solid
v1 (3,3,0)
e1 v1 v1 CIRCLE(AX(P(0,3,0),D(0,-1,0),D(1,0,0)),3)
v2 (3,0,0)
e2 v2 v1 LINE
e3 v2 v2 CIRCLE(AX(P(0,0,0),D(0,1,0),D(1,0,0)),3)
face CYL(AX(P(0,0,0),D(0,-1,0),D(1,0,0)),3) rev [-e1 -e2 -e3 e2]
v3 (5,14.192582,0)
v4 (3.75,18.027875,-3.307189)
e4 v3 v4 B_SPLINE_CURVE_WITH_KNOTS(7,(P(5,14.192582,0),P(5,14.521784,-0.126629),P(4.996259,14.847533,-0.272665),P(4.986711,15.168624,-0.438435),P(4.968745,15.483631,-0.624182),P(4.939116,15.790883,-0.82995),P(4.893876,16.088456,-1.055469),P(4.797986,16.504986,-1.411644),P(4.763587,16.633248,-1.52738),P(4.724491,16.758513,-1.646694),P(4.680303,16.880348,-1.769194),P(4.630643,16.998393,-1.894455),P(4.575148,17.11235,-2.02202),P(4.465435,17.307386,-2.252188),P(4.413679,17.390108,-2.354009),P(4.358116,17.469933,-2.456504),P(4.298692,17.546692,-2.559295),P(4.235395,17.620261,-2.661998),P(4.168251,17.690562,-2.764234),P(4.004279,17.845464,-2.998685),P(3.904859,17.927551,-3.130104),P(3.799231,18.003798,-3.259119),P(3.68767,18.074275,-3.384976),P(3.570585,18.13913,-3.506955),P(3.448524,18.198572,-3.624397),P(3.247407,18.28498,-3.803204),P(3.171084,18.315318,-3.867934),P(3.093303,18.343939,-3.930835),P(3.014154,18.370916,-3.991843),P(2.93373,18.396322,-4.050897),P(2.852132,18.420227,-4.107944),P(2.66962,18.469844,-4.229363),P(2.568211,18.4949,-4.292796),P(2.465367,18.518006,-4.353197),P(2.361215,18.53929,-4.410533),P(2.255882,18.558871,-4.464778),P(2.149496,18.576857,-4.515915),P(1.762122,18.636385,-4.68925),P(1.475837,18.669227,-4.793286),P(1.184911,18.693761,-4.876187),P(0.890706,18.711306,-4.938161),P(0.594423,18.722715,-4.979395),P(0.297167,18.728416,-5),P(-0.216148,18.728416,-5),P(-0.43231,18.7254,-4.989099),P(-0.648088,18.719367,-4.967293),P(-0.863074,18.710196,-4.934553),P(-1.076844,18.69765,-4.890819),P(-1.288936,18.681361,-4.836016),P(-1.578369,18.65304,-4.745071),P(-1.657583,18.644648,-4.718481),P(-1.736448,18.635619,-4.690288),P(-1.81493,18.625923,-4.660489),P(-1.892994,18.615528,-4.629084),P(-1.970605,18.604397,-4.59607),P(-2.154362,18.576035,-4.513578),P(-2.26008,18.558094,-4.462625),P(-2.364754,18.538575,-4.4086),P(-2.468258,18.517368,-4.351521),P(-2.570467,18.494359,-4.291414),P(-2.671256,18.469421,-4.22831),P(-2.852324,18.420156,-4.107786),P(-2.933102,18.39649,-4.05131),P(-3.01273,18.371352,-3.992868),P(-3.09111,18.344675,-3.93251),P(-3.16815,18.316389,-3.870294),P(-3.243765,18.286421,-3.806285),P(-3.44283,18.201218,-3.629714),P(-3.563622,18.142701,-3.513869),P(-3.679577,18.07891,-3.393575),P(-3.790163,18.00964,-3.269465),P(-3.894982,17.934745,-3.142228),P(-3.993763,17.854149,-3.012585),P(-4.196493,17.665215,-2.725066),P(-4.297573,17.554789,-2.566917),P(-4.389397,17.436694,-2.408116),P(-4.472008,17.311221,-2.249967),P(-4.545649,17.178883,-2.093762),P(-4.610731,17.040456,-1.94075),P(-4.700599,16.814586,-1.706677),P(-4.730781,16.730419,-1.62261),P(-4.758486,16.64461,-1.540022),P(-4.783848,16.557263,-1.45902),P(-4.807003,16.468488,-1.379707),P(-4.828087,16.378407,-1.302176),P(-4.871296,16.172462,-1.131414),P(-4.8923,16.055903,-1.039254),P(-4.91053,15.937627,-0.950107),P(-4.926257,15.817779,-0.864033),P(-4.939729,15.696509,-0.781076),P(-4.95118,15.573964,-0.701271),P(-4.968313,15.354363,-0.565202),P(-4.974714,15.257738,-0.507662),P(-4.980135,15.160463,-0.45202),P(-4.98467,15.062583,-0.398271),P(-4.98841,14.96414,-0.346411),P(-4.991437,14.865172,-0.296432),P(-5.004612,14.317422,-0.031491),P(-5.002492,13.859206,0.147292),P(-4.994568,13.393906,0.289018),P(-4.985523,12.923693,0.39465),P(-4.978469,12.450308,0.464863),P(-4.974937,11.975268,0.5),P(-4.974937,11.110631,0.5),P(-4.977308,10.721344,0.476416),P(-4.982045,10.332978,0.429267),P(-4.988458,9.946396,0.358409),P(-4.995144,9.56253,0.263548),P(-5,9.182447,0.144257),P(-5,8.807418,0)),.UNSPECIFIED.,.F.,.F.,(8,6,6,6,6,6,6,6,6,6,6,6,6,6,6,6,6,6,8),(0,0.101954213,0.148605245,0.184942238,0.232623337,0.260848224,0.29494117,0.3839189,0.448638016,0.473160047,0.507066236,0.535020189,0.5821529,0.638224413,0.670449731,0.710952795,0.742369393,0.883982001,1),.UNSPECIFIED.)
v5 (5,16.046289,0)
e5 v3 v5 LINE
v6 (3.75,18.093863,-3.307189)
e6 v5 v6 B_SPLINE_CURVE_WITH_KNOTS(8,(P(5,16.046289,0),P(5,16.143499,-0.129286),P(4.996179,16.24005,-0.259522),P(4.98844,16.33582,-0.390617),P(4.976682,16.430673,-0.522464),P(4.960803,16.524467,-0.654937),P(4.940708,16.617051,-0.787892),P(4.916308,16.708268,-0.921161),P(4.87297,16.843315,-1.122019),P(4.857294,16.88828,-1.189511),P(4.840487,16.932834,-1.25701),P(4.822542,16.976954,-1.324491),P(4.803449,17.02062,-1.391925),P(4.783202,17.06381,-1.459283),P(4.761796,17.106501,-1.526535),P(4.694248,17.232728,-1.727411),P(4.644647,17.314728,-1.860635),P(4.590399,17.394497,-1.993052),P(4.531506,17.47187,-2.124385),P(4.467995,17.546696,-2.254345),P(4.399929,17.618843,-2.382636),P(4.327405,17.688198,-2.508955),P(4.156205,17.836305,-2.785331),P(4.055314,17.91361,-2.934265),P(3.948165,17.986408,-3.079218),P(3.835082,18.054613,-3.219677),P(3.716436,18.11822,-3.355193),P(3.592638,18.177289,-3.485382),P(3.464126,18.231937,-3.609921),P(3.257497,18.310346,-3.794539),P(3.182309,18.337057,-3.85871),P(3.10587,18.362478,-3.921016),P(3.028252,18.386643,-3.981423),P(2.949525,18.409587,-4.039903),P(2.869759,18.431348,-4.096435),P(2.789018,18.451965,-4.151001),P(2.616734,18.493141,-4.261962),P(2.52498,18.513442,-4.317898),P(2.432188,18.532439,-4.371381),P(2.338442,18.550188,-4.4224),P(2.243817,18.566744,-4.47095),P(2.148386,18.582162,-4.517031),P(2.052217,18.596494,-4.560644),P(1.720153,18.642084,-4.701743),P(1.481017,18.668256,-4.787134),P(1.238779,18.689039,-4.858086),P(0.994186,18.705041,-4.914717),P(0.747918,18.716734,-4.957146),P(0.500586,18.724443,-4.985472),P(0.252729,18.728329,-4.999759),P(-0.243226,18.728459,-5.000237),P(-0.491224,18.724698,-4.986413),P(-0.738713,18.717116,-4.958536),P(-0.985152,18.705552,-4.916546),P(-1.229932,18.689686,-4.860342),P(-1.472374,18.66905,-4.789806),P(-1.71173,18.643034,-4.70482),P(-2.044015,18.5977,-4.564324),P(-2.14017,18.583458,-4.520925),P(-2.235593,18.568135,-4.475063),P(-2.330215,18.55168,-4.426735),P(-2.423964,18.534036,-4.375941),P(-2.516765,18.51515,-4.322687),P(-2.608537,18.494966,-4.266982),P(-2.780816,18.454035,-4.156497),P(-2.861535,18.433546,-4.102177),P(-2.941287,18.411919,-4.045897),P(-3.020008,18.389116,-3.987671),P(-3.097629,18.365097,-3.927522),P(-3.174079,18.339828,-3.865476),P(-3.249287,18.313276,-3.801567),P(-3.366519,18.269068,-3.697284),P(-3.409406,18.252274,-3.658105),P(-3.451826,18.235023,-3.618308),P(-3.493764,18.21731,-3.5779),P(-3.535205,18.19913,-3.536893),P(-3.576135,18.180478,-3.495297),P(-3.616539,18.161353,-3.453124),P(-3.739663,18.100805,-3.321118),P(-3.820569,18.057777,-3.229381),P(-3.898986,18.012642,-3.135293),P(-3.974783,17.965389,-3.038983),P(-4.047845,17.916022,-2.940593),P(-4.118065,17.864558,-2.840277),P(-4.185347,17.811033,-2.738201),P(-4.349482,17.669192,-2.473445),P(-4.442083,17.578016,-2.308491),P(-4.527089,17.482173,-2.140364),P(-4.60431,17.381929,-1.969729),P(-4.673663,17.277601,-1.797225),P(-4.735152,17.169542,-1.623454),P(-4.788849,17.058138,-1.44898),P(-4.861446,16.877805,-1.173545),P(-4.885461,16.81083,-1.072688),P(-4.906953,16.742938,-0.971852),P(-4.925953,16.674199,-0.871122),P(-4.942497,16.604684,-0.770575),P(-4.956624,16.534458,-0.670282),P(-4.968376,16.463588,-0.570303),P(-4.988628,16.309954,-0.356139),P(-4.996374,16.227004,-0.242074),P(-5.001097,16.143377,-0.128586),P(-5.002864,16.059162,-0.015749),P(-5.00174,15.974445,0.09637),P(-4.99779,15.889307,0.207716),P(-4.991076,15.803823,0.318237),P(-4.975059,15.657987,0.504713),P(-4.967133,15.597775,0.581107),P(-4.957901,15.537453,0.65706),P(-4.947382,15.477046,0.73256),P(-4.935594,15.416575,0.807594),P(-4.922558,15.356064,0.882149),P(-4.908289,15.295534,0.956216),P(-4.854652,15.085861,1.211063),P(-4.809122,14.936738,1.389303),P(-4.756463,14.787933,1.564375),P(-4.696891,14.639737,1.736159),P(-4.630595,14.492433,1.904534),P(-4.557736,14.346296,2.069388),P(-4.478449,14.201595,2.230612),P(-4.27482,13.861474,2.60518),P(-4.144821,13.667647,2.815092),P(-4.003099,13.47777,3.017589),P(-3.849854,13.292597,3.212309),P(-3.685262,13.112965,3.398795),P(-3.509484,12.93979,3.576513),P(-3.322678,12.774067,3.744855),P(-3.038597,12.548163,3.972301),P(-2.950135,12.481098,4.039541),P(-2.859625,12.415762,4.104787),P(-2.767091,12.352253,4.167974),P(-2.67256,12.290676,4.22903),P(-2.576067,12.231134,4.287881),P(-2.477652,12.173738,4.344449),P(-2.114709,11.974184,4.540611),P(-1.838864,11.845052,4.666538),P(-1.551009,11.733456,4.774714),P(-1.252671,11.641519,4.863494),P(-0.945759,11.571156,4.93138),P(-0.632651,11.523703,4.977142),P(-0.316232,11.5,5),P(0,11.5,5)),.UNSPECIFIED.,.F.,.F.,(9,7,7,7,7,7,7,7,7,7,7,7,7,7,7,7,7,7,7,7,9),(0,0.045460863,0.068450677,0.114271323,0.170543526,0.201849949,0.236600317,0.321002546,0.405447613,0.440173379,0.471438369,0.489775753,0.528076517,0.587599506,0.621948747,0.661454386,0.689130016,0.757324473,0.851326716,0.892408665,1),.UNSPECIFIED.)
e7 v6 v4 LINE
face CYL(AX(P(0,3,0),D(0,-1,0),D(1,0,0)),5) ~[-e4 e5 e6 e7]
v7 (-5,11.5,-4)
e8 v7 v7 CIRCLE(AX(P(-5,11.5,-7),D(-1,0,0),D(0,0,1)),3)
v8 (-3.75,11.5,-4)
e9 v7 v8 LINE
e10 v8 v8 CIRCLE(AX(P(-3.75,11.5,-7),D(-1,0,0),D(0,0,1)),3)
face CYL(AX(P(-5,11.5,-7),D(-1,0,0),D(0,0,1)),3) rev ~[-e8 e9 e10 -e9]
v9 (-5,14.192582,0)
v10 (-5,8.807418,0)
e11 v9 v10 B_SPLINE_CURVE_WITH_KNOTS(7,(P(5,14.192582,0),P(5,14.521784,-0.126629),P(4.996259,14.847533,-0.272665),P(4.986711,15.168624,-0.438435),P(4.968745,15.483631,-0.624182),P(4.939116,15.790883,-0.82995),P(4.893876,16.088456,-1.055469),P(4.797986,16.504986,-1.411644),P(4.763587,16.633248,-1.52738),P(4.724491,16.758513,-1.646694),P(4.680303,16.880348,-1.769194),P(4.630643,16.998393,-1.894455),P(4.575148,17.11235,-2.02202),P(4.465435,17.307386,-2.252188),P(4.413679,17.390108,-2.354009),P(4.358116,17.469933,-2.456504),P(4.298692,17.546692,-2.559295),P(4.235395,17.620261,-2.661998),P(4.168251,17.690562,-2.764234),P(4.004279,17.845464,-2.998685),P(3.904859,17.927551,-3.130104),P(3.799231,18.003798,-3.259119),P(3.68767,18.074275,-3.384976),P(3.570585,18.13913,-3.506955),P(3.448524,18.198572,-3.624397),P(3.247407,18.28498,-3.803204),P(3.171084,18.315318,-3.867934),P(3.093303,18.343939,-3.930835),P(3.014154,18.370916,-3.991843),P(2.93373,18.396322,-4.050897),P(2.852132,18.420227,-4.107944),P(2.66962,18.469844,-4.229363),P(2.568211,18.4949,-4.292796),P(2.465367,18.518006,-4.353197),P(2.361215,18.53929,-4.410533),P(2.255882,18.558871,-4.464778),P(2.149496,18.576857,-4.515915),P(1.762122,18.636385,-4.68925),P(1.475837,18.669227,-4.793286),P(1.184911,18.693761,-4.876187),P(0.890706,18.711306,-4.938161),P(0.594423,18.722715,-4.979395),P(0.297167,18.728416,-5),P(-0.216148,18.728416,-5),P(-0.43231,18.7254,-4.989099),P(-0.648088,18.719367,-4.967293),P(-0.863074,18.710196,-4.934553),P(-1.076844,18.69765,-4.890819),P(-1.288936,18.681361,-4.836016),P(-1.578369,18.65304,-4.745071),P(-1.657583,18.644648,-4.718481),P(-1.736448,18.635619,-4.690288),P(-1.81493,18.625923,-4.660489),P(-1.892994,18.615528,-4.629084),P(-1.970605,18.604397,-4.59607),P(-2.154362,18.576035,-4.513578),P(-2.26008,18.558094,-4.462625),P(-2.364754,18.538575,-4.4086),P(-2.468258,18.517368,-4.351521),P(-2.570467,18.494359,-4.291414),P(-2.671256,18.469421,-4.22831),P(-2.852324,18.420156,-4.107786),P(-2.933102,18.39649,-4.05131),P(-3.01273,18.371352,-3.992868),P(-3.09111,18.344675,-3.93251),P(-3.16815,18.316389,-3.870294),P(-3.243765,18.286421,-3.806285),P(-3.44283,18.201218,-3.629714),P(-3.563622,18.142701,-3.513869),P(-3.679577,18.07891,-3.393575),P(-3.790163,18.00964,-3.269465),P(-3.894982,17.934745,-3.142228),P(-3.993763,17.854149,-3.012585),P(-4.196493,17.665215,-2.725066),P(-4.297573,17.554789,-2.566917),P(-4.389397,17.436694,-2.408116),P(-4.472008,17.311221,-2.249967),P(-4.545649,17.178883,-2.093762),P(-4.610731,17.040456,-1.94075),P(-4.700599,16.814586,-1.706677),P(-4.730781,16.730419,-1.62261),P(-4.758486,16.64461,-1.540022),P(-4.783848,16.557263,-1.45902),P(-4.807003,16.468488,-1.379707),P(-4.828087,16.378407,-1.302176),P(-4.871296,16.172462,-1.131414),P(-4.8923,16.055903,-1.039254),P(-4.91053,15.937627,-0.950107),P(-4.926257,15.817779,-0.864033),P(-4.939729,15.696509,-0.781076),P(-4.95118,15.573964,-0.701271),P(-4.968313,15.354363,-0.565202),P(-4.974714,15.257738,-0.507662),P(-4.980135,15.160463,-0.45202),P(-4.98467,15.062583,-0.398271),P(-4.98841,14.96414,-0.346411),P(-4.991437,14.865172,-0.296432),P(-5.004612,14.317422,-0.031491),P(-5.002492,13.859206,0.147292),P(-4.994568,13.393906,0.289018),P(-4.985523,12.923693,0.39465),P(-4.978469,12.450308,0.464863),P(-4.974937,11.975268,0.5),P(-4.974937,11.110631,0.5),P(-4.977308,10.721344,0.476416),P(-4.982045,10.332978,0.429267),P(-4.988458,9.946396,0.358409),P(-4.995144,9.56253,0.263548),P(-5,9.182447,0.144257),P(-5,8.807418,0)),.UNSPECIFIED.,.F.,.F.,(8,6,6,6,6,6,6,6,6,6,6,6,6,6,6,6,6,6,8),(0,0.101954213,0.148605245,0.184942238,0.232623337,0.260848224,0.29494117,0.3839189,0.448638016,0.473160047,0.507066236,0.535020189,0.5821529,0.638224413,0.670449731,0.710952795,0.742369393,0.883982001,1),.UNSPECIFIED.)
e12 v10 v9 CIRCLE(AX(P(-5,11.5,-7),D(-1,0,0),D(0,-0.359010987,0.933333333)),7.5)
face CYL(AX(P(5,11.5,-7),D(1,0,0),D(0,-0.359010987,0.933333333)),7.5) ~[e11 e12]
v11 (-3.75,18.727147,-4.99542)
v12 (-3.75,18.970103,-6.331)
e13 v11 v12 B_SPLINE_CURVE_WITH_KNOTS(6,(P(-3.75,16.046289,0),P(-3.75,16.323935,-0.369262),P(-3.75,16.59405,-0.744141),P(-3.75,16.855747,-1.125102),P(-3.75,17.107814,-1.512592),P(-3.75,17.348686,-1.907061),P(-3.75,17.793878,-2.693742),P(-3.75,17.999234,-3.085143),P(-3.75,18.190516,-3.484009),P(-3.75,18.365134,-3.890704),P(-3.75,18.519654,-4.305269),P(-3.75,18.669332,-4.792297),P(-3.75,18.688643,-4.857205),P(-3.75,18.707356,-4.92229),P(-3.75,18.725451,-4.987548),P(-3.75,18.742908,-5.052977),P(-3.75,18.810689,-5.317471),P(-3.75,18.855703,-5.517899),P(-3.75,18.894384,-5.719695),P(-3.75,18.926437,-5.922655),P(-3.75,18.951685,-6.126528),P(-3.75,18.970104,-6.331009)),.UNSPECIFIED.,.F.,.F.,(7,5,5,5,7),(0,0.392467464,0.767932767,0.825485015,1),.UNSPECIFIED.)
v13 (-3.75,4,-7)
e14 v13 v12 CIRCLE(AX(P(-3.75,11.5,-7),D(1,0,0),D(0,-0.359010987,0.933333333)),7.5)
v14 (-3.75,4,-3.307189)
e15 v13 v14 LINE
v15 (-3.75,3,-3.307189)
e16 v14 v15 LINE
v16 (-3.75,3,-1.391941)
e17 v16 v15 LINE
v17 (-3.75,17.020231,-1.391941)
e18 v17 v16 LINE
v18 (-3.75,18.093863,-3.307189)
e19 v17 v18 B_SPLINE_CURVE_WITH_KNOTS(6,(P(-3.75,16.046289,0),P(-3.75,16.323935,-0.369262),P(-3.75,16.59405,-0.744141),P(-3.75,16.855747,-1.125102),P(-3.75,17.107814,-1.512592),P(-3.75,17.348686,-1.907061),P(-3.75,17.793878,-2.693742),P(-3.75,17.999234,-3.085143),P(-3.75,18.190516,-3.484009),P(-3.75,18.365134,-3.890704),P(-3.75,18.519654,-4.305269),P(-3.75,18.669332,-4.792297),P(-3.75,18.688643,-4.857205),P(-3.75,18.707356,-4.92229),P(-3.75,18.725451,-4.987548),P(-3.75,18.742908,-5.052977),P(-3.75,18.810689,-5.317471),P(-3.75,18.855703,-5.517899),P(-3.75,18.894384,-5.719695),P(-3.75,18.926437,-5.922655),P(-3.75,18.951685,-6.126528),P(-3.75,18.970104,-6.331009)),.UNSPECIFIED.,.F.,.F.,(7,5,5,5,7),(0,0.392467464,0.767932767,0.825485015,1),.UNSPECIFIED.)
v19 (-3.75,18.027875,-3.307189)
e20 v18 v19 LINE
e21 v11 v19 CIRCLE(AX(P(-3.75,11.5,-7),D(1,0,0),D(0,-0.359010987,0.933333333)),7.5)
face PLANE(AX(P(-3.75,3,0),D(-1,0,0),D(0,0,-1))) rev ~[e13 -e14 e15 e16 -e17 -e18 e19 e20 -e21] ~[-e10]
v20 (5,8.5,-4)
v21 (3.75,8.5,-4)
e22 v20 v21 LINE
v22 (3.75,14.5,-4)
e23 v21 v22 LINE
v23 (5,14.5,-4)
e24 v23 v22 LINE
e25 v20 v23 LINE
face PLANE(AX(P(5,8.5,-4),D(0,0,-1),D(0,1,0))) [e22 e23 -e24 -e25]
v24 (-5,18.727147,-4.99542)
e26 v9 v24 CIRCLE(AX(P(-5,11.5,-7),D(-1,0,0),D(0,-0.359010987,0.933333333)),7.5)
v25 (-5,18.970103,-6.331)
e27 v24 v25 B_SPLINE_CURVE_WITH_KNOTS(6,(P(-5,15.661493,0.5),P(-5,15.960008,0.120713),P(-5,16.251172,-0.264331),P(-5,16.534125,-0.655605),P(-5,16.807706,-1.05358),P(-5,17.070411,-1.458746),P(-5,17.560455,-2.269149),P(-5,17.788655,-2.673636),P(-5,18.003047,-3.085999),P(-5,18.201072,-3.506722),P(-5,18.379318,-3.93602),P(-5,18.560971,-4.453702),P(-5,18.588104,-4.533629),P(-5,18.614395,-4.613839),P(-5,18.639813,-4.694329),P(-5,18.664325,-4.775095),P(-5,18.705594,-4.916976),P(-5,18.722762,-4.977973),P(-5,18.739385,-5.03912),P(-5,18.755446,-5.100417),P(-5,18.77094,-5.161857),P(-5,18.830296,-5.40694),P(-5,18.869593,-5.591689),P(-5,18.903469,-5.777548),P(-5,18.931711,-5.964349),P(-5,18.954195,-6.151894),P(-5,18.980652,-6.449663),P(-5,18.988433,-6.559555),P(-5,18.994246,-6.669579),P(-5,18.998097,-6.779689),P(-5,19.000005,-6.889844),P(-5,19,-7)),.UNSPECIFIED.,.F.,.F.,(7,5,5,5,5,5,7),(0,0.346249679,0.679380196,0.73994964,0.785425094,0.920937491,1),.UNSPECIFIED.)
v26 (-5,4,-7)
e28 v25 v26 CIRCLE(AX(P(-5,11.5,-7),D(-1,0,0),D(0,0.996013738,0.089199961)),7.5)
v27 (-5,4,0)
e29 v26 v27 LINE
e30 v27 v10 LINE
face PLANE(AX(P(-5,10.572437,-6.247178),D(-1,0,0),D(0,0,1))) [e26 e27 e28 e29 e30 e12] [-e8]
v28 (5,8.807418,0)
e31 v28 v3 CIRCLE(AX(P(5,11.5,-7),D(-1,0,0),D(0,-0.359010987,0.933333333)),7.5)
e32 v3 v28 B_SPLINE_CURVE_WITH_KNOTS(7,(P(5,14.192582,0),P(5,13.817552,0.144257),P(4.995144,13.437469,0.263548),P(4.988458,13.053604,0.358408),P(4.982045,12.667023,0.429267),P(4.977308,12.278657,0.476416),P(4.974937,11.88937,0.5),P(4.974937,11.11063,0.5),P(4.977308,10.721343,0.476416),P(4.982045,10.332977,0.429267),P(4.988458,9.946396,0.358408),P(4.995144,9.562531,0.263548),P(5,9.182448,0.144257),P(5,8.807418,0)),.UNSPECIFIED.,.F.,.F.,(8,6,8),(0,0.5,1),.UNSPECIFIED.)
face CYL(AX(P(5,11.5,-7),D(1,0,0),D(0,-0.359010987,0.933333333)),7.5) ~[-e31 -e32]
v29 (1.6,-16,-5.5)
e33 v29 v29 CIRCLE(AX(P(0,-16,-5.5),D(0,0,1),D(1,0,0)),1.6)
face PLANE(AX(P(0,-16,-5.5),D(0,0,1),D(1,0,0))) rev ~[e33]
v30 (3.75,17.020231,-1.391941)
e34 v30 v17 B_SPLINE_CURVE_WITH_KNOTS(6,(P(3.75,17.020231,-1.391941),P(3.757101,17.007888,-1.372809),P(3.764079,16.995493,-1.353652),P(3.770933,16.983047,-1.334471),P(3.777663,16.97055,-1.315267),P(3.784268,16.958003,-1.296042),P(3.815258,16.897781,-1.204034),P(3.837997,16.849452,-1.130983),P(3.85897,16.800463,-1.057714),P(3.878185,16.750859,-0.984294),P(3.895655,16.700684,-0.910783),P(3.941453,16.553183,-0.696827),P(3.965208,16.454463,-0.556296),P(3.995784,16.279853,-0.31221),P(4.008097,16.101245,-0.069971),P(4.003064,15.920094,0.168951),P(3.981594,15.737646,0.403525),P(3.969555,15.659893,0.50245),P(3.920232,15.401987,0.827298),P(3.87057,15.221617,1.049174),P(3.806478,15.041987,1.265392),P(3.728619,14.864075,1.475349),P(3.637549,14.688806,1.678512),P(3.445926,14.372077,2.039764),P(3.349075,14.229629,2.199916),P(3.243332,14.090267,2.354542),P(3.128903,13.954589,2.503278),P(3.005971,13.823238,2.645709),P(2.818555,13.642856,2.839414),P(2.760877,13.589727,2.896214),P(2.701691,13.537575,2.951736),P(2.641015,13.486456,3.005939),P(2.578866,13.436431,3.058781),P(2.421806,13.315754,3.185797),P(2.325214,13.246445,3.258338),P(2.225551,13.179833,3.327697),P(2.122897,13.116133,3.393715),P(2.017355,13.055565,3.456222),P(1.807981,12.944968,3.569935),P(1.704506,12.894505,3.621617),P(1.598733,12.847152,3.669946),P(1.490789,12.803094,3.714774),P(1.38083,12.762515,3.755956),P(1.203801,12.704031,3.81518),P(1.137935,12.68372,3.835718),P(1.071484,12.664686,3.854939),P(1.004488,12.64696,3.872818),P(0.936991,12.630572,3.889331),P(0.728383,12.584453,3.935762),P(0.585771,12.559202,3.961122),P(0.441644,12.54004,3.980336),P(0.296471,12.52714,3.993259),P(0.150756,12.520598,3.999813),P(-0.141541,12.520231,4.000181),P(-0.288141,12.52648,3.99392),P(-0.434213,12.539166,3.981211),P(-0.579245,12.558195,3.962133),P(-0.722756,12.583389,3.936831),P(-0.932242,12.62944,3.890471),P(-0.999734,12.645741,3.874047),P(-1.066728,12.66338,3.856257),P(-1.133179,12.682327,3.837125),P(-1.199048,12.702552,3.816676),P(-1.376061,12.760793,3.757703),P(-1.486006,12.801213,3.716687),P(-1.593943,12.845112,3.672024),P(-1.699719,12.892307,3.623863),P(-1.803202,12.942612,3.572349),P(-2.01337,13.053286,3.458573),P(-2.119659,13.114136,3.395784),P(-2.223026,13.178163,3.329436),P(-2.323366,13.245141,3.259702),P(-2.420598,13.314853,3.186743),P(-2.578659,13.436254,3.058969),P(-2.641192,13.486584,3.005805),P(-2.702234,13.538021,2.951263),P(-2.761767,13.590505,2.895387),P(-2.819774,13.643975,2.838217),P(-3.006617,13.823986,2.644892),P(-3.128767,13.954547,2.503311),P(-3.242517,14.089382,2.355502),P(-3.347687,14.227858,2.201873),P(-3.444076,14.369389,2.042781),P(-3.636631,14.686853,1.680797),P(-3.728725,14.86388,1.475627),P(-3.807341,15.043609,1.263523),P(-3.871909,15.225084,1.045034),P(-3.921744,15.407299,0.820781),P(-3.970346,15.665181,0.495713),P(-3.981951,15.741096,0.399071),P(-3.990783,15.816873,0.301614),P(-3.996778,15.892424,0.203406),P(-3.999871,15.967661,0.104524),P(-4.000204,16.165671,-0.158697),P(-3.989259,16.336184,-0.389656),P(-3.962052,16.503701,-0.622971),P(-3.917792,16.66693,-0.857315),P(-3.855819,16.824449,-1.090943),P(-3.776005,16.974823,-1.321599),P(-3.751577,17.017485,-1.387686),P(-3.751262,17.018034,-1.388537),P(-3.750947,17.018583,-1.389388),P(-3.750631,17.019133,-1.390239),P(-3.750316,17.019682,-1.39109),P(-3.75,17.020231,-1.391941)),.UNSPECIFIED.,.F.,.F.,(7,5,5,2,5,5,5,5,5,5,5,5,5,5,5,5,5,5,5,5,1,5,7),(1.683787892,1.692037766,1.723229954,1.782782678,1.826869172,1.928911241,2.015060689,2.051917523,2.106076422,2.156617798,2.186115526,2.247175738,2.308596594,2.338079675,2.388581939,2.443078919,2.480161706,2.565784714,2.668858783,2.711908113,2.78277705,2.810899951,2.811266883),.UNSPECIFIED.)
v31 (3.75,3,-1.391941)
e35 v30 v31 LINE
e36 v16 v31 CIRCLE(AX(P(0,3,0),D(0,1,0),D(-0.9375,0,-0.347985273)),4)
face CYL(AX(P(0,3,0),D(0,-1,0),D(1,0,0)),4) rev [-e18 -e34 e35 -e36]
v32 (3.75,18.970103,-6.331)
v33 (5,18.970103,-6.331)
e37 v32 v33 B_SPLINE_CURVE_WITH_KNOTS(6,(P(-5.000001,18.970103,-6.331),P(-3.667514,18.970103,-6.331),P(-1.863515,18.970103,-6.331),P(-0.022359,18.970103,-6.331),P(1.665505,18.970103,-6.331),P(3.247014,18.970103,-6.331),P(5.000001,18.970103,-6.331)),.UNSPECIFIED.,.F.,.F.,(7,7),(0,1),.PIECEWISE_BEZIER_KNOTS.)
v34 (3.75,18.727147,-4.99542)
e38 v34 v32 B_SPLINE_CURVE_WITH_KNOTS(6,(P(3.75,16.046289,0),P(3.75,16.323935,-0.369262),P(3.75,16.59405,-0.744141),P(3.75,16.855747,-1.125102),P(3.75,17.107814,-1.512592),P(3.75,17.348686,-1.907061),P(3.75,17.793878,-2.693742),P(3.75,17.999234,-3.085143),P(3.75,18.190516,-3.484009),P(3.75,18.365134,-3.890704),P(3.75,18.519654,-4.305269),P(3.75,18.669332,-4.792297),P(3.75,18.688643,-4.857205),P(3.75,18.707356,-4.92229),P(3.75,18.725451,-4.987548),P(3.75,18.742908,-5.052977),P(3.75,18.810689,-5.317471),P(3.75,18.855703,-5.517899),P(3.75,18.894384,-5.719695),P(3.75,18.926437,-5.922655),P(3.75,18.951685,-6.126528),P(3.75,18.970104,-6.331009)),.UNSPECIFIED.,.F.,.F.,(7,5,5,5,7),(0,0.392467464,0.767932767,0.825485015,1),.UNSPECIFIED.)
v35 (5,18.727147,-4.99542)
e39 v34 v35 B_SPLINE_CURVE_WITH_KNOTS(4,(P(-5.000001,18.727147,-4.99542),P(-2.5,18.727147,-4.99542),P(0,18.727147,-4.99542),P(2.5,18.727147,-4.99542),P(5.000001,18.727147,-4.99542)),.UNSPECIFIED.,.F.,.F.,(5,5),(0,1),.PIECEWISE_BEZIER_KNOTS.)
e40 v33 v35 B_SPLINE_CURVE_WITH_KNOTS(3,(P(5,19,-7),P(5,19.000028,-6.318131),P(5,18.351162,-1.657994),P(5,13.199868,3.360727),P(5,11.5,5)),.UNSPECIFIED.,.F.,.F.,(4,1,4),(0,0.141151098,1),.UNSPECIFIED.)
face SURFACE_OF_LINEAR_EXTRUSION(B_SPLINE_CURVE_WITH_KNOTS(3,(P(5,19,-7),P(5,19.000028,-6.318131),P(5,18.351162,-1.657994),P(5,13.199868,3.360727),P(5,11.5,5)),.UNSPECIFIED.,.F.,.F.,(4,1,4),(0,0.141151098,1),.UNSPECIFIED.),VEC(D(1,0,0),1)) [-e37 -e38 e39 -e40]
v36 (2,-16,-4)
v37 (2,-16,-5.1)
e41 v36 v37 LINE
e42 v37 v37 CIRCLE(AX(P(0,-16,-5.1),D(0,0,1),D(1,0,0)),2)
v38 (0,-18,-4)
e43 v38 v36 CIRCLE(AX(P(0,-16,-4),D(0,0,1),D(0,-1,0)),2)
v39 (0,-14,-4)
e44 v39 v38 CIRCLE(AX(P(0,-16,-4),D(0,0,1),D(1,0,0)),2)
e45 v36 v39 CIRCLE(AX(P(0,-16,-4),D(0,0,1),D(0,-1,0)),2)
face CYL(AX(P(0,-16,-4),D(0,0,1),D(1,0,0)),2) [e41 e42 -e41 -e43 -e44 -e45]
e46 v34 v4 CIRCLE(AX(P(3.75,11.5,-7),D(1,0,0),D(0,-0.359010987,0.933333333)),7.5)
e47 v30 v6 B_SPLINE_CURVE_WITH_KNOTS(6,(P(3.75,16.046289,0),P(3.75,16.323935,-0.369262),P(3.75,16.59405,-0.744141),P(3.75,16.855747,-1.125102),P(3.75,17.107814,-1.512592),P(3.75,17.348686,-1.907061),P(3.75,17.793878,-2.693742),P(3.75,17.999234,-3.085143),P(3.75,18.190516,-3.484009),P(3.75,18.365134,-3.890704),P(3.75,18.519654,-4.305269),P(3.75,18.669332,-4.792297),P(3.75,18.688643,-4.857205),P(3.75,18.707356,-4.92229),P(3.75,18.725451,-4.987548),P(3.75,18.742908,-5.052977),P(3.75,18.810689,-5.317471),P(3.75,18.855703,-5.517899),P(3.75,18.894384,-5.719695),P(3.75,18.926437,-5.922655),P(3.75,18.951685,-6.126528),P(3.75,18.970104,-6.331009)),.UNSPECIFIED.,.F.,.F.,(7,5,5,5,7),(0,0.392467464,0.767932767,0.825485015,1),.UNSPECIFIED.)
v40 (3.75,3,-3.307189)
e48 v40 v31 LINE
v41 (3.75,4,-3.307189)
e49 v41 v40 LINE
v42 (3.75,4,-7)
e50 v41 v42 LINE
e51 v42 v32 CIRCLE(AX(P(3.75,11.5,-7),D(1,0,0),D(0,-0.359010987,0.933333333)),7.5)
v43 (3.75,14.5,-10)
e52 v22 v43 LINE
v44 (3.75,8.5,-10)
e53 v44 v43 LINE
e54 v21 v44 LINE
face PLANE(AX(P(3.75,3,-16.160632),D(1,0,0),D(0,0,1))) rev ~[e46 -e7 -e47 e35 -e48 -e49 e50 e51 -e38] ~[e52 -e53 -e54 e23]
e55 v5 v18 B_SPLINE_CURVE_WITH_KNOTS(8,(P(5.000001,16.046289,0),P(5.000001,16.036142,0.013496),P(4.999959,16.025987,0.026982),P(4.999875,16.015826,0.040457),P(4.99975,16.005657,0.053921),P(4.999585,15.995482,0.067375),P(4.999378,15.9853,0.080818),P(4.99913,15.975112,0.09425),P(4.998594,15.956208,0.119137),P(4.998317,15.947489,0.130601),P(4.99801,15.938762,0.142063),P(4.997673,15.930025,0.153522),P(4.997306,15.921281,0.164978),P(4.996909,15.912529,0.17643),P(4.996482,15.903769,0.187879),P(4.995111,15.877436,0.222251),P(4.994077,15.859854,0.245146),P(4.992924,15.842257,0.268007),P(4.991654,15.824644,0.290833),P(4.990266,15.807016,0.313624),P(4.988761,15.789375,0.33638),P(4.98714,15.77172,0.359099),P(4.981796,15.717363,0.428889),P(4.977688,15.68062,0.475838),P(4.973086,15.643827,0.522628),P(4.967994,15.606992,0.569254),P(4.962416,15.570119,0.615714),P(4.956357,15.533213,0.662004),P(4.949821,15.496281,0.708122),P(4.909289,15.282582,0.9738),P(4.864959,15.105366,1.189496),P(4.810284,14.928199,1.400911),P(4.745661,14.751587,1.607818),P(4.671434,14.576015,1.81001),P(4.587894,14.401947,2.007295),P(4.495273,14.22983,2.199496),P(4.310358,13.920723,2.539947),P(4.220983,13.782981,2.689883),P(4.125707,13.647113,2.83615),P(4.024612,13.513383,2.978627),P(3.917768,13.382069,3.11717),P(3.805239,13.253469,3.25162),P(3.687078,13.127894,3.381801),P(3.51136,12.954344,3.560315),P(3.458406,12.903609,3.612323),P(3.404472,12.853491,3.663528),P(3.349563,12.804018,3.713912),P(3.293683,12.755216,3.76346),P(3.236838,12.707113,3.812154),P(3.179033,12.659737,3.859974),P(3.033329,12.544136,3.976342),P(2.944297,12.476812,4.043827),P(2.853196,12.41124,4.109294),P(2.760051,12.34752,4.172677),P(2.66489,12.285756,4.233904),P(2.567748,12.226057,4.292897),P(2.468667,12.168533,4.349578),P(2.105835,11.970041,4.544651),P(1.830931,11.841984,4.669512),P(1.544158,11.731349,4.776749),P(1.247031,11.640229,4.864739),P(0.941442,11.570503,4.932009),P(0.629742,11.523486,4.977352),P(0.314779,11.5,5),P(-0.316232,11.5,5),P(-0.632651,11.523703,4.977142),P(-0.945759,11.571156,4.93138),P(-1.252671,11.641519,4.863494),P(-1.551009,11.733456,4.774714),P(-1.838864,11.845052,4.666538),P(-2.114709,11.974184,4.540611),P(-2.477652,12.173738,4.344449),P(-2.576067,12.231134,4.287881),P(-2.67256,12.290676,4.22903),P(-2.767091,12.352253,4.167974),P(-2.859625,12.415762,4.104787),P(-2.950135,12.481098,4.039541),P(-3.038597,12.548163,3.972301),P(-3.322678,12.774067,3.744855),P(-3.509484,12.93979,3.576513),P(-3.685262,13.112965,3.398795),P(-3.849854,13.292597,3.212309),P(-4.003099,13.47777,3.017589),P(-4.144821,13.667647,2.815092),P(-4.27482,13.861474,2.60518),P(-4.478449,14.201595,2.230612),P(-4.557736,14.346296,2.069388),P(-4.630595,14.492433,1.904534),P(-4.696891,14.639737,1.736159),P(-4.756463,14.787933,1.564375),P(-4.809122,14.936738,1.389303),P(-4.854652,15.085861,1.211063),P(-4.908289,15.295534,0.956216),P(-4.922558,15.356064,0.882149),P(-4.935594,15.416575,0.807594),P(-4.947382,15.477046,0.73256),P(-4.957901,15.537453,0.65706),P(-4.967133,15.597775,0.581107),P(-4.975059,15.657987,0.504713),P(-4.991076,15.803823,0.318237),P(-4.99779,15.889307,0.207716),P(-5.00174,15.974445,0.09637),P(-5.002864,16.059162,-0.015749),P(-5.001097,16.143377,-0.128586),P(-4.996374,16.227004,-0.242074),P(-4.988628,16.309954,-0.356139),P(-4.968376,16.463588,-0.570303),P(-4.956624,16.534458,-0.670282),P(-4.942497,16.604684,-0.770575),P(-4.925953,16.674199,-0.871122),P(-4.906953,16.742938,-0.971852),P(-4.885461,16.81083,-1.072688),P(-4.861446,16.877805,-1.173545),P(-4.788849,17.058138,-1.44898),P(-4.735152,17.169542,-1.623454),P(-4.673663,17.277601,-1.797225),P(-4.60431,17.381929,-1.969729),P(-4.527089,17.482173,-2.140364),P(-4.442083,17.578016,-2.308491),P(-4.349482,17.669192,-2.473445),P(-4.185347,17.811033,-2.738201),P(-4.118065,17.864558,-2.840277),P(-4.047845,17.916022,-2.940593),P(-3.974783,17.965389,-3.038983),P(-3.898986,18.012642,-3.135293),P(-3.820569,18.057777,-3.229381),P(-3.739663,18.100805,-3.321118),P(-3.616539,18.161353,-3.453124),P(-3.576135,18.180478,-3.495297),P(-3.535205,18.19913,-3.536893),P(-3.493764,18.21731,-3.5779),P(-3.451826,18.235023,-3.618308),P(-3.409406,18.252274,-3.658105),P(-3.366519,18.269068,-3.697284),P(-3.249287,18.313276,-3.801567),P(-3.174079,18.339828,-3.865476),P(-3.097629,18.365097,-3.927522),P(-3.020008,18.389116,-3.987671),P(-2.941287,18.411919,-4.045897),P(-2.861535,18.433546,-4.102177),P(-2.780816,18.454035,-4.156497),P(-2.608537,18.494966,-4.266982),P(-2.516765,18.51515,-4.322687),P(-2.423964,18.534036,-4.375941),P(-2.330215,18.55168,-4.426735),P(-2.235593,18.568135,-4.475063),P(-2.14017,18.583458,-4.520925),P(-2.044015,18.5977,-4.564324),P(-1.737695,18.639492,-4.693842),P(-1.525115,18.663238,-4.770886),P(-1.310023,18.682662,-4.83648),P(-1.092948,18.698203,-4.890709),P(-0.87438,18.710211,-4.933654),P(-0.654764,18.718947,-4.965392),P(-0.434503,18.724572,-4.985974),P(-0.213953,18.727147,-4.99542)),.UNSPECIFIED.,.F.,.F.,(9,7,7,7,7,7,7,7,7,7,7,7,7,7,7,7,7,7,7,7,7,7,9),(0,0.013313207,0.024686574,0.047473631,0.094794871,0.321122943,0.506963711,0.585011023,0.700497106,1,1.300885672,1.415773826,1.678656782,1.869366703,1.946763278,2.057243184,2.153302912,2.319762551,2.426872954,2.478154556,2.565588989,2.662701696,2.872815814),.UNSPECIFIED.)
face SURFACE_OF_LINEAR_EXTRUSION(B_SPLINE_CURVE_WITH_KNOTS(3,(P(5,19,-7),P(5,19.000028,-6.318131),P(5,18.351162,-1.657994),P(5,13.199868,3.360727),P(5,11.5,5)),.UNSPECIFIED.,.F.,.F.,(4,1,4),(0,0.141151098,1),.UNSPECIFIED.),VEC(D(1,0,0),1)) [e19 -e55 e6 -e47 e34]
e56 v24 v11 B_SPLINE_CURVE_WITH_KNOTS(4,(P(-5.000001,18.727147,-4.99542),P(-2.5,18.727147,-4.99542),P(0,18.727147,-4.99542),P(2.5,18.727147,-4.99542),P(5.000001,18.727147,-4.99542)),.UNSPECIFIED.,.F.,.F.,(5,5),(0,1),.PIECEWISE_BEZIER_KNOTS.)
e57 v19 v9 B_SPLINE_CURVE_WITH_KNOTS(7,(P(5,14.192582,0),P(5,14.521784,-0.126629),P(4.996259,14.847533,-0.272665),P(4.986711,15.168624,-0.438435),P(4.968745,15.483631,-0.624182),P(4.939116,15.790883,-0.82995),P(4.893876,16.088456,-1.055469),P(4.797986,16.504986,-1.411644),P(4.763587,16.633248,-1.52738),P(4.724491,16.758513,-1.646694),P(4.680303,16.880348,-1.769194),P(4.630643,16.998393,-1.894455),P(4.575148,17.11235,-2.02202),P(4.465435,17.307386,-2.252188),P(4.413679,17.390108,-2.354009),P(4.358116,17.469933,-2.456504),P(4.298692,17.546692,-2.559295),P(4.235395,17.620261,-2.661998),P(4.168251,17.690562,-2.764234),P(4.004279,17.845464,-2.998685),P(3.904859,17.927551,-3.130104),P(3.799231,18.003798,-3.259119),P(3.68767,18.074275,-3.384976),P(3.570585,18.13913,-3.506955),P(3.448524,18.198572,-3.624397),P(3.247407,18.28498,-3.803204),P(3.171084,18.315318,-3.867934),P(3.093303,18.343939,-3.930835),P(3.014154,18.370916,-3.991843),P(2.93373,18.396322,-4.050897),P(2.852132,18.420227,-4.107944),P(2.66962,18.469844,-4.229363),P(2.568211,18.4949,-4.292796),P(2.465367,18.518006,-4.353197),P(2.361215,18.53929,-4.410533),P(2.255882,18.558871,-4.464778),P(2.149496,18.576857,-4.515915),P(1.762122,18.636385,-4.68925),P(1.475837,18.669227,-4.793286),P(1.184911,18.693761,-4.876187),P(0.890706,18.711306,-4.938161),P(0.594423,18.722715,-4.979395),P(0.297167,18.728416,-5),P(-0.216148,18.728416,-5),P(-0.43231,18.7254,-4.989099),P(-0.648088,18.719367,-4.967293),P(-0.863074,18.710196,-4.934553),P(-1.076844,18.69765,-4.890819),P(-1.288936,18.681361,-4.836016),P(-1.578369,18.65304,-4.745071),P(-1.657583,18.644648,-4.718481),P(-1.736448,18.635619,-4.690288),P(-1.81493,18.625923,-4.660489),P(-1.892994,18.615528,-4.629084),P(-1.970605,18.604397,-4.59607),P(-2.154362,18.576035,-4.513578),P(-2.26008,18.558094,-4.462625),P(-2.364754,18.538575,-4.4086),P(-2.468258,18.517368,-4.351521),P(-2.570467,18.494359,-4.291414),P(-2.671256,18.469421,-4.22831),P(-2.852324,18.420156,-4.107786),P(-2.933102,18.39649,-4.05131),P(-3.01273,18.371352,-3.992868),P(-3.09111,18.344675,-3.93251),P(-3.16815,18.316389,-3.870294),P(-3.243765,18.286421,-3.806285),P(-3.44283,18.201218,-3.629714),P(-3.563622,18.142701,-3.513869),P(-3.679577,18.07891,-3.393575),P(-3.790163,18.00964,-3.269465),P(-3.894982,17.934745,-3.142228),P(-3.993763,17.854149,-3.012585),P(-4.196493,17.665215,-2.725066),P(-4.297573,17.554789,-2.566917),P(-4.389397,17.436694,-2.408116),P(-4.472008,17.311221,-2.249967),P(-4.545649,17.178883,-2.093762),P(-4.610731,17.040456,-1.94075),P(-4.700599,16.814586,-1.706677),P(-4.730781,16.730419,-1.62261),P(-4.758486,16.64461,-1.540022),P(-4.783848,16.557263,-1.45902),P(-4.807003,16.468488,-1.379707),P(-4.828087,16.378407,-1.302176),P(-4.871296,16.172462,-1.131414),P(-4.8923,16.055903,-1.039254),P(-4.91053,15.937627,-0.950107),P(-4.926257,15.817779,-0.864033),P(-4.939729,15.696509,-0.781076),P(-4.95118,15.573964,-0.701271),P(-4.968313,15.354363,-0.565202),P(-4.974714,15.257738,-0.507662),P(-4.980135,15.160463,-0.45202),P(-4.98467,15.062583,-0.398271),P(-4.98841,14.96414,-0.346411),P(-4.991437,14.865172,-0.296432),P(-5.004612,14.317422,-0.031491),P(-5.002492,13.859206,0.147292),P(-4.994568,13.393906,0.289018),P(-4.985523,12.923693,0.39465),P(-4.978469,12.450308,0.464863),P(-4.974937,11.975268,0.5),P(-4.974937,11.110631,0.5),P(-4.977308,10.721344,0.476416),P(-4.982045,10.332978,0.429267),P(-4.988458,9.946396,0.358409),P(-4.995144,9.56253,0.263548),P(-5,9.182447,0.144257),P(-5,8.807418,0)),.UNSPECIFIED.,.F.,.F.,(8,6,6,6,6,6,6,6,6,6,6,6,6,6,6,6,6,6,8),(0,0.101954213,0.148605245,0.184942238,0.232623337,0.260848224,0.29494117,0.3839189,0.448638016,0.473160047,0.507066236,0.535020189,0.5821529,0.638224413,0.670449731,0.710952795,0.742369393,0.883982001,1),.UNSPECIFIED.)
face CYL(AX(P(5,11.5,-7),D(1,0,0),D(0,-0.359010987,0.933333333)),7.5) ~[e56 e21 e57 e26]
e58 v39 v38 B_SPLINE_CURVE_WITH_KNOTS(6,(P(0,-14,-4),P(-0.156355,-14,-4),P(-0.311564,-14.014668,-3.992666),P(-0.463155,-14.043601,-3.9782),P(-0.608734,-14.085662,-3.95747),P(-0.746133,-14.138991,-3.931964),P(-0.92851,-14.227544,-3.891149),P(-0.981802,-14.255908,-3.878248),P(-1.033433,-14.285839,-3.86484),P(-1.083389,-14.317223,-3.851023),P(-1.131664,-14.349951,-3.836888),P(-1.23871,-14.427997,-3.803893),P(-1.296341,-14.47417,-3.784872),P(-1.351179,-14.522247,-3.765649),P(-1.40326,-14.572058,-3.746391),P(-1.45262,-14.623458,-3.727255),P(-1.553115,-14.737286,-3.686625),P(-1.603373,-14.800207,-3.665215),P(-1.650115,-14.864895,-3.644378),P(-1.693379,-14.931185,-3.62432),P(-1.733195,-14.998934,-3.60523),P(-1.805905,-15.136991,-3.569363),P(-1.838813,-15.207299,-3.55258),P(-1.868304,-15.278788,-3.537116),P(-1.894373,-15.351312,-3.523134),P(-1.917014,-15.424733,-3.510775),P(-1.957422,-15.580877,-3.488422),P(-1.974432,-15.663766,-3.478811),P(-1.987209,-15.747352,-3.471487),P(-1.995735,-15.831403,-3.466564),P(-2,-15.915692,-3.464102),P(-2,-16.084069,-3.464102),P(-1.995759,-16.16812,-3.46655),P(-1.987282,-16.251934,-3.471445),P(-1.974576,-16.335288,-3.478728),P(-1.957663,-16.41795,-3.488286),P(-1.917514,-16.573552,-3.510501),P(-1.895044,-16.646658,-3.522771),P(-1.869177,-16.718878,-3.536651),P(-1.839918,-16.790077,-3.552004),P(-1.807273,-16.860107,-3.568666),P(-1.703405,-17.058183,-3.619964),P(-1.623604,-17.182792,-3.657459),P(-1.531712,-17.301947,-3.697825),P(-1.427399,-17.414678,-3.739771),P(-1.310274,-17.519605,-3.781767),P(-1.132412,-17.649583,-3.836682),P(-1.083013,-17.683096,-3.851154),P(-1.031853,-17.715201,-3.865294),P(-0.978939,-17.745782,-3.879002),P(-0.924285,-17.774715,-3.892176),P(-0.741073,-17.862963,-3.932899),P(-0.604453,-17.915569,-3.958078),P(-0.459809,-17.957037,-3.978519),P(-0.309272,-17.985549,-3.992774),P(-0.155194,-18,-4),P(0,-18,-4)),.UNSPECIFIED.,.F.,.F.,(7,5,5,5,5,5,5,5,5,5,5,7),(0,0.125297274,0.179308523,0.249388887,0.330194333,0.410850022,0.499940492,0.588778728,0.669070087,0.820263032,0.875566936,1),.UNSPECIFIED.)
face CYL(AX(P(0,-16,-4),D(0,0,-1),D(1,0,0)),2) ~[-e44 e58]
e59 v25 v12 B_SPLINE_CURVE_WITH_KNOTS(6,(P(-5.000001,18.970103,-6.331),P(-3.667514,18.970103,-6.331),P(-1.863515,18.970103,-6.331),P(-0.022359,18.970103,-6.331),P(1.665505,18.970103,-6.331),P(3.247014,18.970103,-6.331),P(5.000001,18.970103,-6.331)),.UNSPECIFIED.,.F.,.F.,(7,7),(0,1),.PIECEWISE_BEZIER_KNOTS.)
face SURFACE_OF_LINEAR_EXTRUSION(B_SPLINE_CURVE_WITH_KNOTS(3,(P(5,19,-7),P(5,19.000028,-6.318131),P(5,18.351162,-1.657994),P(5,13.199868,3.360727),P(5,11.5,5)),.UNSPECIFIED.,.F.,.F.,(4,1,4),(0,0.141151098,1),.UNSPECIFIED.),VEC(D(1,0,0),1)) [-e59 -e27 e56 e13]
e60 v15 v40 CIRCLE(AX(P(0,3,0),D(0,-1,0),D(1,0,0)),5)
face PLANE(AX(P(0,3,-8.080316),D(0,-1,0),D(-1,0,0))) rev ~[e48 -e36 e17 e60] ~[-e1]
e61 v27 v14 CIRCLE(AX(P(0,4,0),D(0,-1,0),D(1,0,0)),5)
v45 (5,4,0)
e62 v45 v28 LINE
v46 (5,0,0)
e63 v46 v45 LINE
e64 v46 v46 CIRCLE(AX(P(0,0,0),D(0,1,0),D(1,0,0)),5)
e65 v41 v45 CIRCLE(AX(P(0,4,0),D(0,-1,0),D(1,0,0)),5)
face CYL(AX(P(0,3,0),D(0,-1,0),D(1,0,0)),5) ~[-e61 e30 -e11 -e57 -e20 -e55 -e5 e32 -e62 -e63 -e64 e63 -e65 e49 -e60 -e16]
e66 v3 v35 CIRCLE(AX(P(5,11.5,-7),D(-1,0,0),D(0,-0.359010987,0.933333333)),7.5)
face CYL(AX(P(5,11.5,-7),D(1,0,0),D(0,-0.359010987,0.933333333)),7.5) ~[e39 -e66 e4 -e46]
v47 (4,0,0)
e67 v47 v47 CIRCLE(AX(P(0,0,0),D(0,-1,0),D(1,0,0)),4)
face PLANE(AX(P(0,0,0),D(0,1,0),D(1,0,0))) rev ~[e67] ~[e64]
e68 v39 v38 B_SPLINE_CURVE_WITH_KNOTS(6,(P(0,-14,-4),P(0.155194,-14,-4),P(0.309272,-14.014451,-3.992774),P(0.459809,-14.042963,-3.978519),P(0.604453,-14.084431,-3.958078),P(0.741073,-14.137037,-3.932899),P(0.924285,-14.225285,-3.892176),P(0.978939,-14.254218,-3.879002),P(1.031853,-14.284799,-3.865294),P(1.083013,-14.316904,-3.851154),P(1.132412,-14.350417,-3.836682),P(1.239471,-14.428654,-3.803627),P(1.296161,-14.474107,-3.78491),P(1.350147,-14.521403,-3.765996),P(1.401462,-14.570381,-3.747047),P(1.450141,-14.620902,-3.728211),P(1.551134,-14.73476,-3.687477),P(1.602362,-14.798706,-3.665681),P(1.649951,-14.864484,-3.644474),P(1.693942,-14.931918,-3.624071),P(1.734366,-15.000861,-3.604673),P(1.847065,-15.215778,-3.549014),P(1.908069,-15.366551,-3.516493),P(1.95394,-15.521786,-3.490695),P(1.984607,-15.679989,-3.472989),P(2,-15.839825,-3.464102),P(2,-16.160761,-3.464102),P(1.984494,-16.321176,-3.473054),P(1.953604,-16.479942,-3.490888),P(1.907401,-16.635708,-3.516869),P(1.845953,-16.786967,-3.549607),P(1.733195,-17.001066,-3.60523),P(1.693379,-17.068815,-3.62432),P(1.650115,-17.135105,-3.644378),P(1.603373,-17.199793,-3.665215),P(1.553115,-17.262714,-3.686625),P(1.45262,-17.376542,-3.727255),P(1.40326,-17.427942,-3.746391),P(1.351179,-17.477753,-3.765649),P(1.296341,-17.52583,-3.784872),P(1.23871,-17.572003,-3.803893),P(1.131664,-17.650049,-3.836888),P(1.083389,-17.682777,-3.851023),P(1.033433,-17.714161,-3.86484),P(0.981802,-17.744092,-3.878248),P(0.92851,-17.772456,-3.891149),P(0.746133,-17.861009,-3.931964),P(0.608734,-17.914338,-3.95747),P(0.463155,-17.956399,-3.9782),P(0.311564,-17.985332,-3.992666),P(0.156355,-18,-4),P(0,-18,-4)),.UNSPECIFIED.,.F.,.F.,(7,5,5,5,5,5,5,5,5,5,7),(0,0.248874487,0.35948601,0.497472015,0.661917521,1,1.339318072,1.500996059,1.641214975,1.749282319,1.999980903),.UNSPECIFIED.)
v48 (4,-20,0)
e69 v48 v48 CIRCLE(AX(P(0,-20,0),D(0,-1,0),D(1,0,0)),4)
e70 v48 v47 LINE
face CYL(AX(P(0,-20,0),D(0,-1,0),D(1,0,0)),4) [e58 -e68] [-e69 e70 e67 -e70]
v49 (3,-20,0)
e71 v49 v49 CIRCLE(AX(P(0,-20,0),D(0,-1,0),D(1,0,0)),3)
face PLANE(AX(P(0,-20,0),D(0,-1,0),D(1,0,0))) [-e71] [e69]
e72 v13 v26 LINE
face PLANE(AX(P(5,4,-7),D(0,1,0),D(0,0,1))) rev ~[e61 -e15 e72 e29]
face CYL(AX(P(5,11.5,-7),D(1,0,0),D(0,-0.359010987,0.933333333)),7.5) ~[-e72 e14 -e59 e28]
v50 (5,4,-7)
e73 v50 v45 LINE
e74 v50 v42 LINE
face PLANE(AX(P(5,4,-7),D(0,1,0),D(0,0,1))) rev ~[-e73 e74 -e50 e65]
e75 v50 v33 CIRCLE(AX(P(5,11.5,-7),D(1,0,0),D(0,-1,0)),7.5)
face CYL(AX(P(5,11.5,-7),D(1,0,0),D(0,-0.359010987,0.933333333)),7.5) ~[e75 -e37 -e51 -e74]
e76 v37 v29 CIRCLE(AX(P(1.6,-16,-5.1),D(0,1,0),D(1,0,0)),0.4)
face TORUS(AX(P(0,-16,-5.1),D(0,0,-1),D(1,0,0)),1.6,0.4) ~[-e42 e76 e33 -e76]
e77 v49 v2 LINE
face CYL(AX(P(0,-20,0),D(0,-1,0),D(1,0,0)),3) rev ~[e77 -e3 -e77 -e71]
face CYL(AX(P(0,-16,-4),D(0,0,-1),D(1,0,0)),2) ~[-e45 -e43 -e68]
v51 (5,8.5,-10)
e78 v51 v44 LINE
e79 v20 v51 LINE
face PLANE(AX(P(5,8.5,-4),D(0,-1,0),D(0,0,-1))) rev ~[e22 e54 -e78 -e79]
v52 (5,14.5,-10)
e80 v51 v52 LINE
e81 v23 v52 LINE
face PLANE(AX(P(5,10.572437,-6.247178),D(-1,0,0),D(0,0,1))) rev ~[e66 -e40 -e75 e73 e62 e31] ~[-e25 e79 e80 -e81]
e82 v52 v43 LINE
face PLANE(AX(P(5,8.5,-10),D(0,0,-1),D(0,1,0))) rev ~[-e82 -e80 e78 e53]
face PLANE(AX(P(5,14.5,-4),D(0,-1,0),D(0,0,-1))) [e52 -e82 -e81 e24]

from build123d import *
from build123d.topology import SkipClean

# Parameters (mm, degrees)
SKETCH1_R                       = 5
SKETCH1_R_2                     = 3
BOSS_EXTRUDE1_DEPTH             = 3
SKETCH2_R                       = 5
SKETCH2_R_2                     = 4
BOSS_EXTRUDE2_DEPTH             = 16
BOSS_EXTRUDE3_DEPTH             = 10
CUT_EXTRUDE1_DEPTH              = 16
SKETCH5_R                       = 4
CUT_EXTRUDE2_DEPTH              = 18
CUT_EXTRUDE3_DEPTH              = 30
SKETCH8_W                       = 6
SKETCH8_H                       = 6
CUT_EXTRUDE4_DEPTH              = 7
SKETCH9_R                       = 3
CUT_EXTRUDE5_DEPTH              = 7
BOSS_EXTRUDE4_START             = 20
SKETCH10_R                      = 4
SKETCH10_R_2                    = 3
BOSS_EXTRUDE4_DEPTH             = 20
BOSS_EXTRUDE5_REACH             = 25.135
BOSS_EXTRUDE5_END_RADIUS        = 4
SKETCH11_R                      = 2
BOSS_EXTRUDE5_DIRECTION_2_DEPTH = 1.5
FILLET1_R                       = 0.4


with BuildPart() as part:
    # Sketch1 → Boss-Extrude1 (new body)
    with BuildSketch(Plane(origin=(0, 0, 0), x_dir=(1, 0, 0), z_dir=(0, 1, 0))):
        Circle(SKETCH1_R)
        Circle(SKETCH1_R_2, mode=Mode.SUBTRACT)
    extrude(amount=BOSS_EXTRUDE1_DEPTH)

    # Sketch2 → Boss-Extrude2 (add)
    with BuildSketch(Plane(origin=(0, 3, 0), x_dir=(1, 0, 0), z_dir=(0, 1, 0))):
        Circle(SKETCH2_R)
        Circle(SKETCH2_R_2, mode=Mode.SUBTRACT)
    extrude(amount=BOSS_EXTRUDE2_DEPTH)

    # Sketch3 → Boss-Extrude3 (add)
    with BuildSketch(Plane(origin=(5, 0, 0), x_dir=(0, 0, -1), z_dir=(1, 0, 0))):
        with BuildLine():
            Line((7, 4), (0, 4))
            Line((0, 4), (0, 8.807417596))
            ThreePointArc((0, 8.807417596), (11.245917567, 17.68240924), (7, 4))
        make_face()
    extrude(amount=-BOSS_EXTRUDE3_DEPTH)

    # Sketch4 → Cut-Extrude1 (cut)
    with BuildSketch(Plane(origin=(5, 0, 0), x_dir=(0, 0, -1), z_dir=(1, 0, 0))):
        with BuildLine():
            Line((-5, 11.5), (-9.7286492, 16.2286492))
            Line((-9.7286492, 16.2286492), (-5.44277466, 22.641996471))
            Line((-5.44277466, 22.641996471), (7, 19))
            add(Edge.make_bspline(
                [(7, 19), (6.318131306, 19.000028418), (1.657993515, 18.351162216), (-3.360726674, 13.19986781), (-5, 11.5)],
                knots=[0, 0, 0, 0, 0.141151098, 1, 1, 1, 1], degree=3))
        make_face()
    extrude(amount=-CUT_EXTRUDE1_DEPTH, mode=Mode.SUBTRACT)

    # Sketch5 → Cut-Extrude2 (cut)
    with BuildSketch(Plane(origin=(0, 3, 0), x_dir=(1, 0, 0), z_dir=(0, 1, 0))):
        Circle(SKETCH5_R)
    extrude(amount=CUT_EXTRUDE2_DEPTH, mode=Mode.SUBTRACT)

    # Sketch7 → Cut-Extrude3 (cut)
    with BuildSketch(Plane(origin=(0, 3, 0), x_dir=(1, 0, 0), z_dir=(0, 1, 0))):
        Polygon((0, 0), (-3.75, 0), (-3.75, 16.160631513), (3.75, 16.160631513), (3.75, 0), align=None)
    extrude(amount=CUT_EXTRUDE3_DEPTH, mode=Mode.SUBTRACT)

    # Sketch8 → Cut-Extrude4 (cut)
    with BuildSketch(Plane(origin=(5, 0, 0), x_dir=(0, 0, -1), z_dir=(1, 0, 0))):
        with Locations((7, 11.5)):
            Rectangle(SKETCH8_W, SKETCH8_H)
    extrude(amount=-CUT_EXTRUDE4_DEPTH, mode=Mode.SUBTRACT)

    # Sketch9 → Cut-Extrude5 (cut)
    with BuildSketch(Plane.ZY.offset(5)):
        with Locations((-7, 11.5)):
            Circle(SKETCH9_R)
    extrude(amount=-CUT_EXTRUDE5_DEPTH, mode=Mode.SUBTRACT)

    # Sketch10 → Boss-Extrude4 (add)
    with BuildSketch(Plane.XZ.offset(BOSS_EXTRUDE4_START)):
        Circle(SKETCH10_R)
        Circle(SKETCH10_R_2, mode=Mode.SUBTRACT)
    extrude(amount=-BOSS_EXTRUDE4_DEPTH)

    # Boss-Extrude5: up to this cylinder (the profile starts outside it)
    boss_extrude5_end = Plane(origin=(0, -16, 0), z_dir=(0, 1, 0)) * Cylinder(BOSS_EXTRUDE5_END_RADIUS, 59.27, mode=Mode.PRIVATE)
    # Sketch11 → Boss-Extrude5 (add, up to the surface)
    with BuildSketch(Plane.XY.offset(-4), mode=Mode.PRIVATE) as boss_extrude5_sk1:
        with Locations((0, -16)):
            Circle(SKETCH11_R)
    boss_extrude5_tool1 = extrude(boss_extrude5_sk1.sketch, amount=BOSS_EXTRUDE5_REACH, mode=Mode.PRIVATE) - boss_extrude5_end
    add(boss_extrude5_tool1.solids().sort_by_distance((0, -16, -4))[0])
    add(boss_extrude5_tool1.solids().sort_by_distance((0, -16, -4))[1])

    # Sketch11 → Boss-Extrude5 direction 2 (add)
    with SkipClean():  # the faces are left unmerged after this step: merging them gives an invalid solid
        with BuildSketch(Plane.XY.offset(-4)):
            with Locations((0, -16)):
                Circle(SKETCH11_R)
        extrude(amount=-BOSS_EXTRUDE5_DIRECTION_2_DEPTH)
    add(part.part.scale(1), mode=Mode.REPLACE)  # the faces are merged on a copy

    # Fillet1
    fillet1_edges = [part.edges().sort_by_distance(p)[0] for p in [
        (-2, -16, -5.5),
    ]]
    fillet(fillet1_edges, radius=FILLET1_R)


solid = part.part
